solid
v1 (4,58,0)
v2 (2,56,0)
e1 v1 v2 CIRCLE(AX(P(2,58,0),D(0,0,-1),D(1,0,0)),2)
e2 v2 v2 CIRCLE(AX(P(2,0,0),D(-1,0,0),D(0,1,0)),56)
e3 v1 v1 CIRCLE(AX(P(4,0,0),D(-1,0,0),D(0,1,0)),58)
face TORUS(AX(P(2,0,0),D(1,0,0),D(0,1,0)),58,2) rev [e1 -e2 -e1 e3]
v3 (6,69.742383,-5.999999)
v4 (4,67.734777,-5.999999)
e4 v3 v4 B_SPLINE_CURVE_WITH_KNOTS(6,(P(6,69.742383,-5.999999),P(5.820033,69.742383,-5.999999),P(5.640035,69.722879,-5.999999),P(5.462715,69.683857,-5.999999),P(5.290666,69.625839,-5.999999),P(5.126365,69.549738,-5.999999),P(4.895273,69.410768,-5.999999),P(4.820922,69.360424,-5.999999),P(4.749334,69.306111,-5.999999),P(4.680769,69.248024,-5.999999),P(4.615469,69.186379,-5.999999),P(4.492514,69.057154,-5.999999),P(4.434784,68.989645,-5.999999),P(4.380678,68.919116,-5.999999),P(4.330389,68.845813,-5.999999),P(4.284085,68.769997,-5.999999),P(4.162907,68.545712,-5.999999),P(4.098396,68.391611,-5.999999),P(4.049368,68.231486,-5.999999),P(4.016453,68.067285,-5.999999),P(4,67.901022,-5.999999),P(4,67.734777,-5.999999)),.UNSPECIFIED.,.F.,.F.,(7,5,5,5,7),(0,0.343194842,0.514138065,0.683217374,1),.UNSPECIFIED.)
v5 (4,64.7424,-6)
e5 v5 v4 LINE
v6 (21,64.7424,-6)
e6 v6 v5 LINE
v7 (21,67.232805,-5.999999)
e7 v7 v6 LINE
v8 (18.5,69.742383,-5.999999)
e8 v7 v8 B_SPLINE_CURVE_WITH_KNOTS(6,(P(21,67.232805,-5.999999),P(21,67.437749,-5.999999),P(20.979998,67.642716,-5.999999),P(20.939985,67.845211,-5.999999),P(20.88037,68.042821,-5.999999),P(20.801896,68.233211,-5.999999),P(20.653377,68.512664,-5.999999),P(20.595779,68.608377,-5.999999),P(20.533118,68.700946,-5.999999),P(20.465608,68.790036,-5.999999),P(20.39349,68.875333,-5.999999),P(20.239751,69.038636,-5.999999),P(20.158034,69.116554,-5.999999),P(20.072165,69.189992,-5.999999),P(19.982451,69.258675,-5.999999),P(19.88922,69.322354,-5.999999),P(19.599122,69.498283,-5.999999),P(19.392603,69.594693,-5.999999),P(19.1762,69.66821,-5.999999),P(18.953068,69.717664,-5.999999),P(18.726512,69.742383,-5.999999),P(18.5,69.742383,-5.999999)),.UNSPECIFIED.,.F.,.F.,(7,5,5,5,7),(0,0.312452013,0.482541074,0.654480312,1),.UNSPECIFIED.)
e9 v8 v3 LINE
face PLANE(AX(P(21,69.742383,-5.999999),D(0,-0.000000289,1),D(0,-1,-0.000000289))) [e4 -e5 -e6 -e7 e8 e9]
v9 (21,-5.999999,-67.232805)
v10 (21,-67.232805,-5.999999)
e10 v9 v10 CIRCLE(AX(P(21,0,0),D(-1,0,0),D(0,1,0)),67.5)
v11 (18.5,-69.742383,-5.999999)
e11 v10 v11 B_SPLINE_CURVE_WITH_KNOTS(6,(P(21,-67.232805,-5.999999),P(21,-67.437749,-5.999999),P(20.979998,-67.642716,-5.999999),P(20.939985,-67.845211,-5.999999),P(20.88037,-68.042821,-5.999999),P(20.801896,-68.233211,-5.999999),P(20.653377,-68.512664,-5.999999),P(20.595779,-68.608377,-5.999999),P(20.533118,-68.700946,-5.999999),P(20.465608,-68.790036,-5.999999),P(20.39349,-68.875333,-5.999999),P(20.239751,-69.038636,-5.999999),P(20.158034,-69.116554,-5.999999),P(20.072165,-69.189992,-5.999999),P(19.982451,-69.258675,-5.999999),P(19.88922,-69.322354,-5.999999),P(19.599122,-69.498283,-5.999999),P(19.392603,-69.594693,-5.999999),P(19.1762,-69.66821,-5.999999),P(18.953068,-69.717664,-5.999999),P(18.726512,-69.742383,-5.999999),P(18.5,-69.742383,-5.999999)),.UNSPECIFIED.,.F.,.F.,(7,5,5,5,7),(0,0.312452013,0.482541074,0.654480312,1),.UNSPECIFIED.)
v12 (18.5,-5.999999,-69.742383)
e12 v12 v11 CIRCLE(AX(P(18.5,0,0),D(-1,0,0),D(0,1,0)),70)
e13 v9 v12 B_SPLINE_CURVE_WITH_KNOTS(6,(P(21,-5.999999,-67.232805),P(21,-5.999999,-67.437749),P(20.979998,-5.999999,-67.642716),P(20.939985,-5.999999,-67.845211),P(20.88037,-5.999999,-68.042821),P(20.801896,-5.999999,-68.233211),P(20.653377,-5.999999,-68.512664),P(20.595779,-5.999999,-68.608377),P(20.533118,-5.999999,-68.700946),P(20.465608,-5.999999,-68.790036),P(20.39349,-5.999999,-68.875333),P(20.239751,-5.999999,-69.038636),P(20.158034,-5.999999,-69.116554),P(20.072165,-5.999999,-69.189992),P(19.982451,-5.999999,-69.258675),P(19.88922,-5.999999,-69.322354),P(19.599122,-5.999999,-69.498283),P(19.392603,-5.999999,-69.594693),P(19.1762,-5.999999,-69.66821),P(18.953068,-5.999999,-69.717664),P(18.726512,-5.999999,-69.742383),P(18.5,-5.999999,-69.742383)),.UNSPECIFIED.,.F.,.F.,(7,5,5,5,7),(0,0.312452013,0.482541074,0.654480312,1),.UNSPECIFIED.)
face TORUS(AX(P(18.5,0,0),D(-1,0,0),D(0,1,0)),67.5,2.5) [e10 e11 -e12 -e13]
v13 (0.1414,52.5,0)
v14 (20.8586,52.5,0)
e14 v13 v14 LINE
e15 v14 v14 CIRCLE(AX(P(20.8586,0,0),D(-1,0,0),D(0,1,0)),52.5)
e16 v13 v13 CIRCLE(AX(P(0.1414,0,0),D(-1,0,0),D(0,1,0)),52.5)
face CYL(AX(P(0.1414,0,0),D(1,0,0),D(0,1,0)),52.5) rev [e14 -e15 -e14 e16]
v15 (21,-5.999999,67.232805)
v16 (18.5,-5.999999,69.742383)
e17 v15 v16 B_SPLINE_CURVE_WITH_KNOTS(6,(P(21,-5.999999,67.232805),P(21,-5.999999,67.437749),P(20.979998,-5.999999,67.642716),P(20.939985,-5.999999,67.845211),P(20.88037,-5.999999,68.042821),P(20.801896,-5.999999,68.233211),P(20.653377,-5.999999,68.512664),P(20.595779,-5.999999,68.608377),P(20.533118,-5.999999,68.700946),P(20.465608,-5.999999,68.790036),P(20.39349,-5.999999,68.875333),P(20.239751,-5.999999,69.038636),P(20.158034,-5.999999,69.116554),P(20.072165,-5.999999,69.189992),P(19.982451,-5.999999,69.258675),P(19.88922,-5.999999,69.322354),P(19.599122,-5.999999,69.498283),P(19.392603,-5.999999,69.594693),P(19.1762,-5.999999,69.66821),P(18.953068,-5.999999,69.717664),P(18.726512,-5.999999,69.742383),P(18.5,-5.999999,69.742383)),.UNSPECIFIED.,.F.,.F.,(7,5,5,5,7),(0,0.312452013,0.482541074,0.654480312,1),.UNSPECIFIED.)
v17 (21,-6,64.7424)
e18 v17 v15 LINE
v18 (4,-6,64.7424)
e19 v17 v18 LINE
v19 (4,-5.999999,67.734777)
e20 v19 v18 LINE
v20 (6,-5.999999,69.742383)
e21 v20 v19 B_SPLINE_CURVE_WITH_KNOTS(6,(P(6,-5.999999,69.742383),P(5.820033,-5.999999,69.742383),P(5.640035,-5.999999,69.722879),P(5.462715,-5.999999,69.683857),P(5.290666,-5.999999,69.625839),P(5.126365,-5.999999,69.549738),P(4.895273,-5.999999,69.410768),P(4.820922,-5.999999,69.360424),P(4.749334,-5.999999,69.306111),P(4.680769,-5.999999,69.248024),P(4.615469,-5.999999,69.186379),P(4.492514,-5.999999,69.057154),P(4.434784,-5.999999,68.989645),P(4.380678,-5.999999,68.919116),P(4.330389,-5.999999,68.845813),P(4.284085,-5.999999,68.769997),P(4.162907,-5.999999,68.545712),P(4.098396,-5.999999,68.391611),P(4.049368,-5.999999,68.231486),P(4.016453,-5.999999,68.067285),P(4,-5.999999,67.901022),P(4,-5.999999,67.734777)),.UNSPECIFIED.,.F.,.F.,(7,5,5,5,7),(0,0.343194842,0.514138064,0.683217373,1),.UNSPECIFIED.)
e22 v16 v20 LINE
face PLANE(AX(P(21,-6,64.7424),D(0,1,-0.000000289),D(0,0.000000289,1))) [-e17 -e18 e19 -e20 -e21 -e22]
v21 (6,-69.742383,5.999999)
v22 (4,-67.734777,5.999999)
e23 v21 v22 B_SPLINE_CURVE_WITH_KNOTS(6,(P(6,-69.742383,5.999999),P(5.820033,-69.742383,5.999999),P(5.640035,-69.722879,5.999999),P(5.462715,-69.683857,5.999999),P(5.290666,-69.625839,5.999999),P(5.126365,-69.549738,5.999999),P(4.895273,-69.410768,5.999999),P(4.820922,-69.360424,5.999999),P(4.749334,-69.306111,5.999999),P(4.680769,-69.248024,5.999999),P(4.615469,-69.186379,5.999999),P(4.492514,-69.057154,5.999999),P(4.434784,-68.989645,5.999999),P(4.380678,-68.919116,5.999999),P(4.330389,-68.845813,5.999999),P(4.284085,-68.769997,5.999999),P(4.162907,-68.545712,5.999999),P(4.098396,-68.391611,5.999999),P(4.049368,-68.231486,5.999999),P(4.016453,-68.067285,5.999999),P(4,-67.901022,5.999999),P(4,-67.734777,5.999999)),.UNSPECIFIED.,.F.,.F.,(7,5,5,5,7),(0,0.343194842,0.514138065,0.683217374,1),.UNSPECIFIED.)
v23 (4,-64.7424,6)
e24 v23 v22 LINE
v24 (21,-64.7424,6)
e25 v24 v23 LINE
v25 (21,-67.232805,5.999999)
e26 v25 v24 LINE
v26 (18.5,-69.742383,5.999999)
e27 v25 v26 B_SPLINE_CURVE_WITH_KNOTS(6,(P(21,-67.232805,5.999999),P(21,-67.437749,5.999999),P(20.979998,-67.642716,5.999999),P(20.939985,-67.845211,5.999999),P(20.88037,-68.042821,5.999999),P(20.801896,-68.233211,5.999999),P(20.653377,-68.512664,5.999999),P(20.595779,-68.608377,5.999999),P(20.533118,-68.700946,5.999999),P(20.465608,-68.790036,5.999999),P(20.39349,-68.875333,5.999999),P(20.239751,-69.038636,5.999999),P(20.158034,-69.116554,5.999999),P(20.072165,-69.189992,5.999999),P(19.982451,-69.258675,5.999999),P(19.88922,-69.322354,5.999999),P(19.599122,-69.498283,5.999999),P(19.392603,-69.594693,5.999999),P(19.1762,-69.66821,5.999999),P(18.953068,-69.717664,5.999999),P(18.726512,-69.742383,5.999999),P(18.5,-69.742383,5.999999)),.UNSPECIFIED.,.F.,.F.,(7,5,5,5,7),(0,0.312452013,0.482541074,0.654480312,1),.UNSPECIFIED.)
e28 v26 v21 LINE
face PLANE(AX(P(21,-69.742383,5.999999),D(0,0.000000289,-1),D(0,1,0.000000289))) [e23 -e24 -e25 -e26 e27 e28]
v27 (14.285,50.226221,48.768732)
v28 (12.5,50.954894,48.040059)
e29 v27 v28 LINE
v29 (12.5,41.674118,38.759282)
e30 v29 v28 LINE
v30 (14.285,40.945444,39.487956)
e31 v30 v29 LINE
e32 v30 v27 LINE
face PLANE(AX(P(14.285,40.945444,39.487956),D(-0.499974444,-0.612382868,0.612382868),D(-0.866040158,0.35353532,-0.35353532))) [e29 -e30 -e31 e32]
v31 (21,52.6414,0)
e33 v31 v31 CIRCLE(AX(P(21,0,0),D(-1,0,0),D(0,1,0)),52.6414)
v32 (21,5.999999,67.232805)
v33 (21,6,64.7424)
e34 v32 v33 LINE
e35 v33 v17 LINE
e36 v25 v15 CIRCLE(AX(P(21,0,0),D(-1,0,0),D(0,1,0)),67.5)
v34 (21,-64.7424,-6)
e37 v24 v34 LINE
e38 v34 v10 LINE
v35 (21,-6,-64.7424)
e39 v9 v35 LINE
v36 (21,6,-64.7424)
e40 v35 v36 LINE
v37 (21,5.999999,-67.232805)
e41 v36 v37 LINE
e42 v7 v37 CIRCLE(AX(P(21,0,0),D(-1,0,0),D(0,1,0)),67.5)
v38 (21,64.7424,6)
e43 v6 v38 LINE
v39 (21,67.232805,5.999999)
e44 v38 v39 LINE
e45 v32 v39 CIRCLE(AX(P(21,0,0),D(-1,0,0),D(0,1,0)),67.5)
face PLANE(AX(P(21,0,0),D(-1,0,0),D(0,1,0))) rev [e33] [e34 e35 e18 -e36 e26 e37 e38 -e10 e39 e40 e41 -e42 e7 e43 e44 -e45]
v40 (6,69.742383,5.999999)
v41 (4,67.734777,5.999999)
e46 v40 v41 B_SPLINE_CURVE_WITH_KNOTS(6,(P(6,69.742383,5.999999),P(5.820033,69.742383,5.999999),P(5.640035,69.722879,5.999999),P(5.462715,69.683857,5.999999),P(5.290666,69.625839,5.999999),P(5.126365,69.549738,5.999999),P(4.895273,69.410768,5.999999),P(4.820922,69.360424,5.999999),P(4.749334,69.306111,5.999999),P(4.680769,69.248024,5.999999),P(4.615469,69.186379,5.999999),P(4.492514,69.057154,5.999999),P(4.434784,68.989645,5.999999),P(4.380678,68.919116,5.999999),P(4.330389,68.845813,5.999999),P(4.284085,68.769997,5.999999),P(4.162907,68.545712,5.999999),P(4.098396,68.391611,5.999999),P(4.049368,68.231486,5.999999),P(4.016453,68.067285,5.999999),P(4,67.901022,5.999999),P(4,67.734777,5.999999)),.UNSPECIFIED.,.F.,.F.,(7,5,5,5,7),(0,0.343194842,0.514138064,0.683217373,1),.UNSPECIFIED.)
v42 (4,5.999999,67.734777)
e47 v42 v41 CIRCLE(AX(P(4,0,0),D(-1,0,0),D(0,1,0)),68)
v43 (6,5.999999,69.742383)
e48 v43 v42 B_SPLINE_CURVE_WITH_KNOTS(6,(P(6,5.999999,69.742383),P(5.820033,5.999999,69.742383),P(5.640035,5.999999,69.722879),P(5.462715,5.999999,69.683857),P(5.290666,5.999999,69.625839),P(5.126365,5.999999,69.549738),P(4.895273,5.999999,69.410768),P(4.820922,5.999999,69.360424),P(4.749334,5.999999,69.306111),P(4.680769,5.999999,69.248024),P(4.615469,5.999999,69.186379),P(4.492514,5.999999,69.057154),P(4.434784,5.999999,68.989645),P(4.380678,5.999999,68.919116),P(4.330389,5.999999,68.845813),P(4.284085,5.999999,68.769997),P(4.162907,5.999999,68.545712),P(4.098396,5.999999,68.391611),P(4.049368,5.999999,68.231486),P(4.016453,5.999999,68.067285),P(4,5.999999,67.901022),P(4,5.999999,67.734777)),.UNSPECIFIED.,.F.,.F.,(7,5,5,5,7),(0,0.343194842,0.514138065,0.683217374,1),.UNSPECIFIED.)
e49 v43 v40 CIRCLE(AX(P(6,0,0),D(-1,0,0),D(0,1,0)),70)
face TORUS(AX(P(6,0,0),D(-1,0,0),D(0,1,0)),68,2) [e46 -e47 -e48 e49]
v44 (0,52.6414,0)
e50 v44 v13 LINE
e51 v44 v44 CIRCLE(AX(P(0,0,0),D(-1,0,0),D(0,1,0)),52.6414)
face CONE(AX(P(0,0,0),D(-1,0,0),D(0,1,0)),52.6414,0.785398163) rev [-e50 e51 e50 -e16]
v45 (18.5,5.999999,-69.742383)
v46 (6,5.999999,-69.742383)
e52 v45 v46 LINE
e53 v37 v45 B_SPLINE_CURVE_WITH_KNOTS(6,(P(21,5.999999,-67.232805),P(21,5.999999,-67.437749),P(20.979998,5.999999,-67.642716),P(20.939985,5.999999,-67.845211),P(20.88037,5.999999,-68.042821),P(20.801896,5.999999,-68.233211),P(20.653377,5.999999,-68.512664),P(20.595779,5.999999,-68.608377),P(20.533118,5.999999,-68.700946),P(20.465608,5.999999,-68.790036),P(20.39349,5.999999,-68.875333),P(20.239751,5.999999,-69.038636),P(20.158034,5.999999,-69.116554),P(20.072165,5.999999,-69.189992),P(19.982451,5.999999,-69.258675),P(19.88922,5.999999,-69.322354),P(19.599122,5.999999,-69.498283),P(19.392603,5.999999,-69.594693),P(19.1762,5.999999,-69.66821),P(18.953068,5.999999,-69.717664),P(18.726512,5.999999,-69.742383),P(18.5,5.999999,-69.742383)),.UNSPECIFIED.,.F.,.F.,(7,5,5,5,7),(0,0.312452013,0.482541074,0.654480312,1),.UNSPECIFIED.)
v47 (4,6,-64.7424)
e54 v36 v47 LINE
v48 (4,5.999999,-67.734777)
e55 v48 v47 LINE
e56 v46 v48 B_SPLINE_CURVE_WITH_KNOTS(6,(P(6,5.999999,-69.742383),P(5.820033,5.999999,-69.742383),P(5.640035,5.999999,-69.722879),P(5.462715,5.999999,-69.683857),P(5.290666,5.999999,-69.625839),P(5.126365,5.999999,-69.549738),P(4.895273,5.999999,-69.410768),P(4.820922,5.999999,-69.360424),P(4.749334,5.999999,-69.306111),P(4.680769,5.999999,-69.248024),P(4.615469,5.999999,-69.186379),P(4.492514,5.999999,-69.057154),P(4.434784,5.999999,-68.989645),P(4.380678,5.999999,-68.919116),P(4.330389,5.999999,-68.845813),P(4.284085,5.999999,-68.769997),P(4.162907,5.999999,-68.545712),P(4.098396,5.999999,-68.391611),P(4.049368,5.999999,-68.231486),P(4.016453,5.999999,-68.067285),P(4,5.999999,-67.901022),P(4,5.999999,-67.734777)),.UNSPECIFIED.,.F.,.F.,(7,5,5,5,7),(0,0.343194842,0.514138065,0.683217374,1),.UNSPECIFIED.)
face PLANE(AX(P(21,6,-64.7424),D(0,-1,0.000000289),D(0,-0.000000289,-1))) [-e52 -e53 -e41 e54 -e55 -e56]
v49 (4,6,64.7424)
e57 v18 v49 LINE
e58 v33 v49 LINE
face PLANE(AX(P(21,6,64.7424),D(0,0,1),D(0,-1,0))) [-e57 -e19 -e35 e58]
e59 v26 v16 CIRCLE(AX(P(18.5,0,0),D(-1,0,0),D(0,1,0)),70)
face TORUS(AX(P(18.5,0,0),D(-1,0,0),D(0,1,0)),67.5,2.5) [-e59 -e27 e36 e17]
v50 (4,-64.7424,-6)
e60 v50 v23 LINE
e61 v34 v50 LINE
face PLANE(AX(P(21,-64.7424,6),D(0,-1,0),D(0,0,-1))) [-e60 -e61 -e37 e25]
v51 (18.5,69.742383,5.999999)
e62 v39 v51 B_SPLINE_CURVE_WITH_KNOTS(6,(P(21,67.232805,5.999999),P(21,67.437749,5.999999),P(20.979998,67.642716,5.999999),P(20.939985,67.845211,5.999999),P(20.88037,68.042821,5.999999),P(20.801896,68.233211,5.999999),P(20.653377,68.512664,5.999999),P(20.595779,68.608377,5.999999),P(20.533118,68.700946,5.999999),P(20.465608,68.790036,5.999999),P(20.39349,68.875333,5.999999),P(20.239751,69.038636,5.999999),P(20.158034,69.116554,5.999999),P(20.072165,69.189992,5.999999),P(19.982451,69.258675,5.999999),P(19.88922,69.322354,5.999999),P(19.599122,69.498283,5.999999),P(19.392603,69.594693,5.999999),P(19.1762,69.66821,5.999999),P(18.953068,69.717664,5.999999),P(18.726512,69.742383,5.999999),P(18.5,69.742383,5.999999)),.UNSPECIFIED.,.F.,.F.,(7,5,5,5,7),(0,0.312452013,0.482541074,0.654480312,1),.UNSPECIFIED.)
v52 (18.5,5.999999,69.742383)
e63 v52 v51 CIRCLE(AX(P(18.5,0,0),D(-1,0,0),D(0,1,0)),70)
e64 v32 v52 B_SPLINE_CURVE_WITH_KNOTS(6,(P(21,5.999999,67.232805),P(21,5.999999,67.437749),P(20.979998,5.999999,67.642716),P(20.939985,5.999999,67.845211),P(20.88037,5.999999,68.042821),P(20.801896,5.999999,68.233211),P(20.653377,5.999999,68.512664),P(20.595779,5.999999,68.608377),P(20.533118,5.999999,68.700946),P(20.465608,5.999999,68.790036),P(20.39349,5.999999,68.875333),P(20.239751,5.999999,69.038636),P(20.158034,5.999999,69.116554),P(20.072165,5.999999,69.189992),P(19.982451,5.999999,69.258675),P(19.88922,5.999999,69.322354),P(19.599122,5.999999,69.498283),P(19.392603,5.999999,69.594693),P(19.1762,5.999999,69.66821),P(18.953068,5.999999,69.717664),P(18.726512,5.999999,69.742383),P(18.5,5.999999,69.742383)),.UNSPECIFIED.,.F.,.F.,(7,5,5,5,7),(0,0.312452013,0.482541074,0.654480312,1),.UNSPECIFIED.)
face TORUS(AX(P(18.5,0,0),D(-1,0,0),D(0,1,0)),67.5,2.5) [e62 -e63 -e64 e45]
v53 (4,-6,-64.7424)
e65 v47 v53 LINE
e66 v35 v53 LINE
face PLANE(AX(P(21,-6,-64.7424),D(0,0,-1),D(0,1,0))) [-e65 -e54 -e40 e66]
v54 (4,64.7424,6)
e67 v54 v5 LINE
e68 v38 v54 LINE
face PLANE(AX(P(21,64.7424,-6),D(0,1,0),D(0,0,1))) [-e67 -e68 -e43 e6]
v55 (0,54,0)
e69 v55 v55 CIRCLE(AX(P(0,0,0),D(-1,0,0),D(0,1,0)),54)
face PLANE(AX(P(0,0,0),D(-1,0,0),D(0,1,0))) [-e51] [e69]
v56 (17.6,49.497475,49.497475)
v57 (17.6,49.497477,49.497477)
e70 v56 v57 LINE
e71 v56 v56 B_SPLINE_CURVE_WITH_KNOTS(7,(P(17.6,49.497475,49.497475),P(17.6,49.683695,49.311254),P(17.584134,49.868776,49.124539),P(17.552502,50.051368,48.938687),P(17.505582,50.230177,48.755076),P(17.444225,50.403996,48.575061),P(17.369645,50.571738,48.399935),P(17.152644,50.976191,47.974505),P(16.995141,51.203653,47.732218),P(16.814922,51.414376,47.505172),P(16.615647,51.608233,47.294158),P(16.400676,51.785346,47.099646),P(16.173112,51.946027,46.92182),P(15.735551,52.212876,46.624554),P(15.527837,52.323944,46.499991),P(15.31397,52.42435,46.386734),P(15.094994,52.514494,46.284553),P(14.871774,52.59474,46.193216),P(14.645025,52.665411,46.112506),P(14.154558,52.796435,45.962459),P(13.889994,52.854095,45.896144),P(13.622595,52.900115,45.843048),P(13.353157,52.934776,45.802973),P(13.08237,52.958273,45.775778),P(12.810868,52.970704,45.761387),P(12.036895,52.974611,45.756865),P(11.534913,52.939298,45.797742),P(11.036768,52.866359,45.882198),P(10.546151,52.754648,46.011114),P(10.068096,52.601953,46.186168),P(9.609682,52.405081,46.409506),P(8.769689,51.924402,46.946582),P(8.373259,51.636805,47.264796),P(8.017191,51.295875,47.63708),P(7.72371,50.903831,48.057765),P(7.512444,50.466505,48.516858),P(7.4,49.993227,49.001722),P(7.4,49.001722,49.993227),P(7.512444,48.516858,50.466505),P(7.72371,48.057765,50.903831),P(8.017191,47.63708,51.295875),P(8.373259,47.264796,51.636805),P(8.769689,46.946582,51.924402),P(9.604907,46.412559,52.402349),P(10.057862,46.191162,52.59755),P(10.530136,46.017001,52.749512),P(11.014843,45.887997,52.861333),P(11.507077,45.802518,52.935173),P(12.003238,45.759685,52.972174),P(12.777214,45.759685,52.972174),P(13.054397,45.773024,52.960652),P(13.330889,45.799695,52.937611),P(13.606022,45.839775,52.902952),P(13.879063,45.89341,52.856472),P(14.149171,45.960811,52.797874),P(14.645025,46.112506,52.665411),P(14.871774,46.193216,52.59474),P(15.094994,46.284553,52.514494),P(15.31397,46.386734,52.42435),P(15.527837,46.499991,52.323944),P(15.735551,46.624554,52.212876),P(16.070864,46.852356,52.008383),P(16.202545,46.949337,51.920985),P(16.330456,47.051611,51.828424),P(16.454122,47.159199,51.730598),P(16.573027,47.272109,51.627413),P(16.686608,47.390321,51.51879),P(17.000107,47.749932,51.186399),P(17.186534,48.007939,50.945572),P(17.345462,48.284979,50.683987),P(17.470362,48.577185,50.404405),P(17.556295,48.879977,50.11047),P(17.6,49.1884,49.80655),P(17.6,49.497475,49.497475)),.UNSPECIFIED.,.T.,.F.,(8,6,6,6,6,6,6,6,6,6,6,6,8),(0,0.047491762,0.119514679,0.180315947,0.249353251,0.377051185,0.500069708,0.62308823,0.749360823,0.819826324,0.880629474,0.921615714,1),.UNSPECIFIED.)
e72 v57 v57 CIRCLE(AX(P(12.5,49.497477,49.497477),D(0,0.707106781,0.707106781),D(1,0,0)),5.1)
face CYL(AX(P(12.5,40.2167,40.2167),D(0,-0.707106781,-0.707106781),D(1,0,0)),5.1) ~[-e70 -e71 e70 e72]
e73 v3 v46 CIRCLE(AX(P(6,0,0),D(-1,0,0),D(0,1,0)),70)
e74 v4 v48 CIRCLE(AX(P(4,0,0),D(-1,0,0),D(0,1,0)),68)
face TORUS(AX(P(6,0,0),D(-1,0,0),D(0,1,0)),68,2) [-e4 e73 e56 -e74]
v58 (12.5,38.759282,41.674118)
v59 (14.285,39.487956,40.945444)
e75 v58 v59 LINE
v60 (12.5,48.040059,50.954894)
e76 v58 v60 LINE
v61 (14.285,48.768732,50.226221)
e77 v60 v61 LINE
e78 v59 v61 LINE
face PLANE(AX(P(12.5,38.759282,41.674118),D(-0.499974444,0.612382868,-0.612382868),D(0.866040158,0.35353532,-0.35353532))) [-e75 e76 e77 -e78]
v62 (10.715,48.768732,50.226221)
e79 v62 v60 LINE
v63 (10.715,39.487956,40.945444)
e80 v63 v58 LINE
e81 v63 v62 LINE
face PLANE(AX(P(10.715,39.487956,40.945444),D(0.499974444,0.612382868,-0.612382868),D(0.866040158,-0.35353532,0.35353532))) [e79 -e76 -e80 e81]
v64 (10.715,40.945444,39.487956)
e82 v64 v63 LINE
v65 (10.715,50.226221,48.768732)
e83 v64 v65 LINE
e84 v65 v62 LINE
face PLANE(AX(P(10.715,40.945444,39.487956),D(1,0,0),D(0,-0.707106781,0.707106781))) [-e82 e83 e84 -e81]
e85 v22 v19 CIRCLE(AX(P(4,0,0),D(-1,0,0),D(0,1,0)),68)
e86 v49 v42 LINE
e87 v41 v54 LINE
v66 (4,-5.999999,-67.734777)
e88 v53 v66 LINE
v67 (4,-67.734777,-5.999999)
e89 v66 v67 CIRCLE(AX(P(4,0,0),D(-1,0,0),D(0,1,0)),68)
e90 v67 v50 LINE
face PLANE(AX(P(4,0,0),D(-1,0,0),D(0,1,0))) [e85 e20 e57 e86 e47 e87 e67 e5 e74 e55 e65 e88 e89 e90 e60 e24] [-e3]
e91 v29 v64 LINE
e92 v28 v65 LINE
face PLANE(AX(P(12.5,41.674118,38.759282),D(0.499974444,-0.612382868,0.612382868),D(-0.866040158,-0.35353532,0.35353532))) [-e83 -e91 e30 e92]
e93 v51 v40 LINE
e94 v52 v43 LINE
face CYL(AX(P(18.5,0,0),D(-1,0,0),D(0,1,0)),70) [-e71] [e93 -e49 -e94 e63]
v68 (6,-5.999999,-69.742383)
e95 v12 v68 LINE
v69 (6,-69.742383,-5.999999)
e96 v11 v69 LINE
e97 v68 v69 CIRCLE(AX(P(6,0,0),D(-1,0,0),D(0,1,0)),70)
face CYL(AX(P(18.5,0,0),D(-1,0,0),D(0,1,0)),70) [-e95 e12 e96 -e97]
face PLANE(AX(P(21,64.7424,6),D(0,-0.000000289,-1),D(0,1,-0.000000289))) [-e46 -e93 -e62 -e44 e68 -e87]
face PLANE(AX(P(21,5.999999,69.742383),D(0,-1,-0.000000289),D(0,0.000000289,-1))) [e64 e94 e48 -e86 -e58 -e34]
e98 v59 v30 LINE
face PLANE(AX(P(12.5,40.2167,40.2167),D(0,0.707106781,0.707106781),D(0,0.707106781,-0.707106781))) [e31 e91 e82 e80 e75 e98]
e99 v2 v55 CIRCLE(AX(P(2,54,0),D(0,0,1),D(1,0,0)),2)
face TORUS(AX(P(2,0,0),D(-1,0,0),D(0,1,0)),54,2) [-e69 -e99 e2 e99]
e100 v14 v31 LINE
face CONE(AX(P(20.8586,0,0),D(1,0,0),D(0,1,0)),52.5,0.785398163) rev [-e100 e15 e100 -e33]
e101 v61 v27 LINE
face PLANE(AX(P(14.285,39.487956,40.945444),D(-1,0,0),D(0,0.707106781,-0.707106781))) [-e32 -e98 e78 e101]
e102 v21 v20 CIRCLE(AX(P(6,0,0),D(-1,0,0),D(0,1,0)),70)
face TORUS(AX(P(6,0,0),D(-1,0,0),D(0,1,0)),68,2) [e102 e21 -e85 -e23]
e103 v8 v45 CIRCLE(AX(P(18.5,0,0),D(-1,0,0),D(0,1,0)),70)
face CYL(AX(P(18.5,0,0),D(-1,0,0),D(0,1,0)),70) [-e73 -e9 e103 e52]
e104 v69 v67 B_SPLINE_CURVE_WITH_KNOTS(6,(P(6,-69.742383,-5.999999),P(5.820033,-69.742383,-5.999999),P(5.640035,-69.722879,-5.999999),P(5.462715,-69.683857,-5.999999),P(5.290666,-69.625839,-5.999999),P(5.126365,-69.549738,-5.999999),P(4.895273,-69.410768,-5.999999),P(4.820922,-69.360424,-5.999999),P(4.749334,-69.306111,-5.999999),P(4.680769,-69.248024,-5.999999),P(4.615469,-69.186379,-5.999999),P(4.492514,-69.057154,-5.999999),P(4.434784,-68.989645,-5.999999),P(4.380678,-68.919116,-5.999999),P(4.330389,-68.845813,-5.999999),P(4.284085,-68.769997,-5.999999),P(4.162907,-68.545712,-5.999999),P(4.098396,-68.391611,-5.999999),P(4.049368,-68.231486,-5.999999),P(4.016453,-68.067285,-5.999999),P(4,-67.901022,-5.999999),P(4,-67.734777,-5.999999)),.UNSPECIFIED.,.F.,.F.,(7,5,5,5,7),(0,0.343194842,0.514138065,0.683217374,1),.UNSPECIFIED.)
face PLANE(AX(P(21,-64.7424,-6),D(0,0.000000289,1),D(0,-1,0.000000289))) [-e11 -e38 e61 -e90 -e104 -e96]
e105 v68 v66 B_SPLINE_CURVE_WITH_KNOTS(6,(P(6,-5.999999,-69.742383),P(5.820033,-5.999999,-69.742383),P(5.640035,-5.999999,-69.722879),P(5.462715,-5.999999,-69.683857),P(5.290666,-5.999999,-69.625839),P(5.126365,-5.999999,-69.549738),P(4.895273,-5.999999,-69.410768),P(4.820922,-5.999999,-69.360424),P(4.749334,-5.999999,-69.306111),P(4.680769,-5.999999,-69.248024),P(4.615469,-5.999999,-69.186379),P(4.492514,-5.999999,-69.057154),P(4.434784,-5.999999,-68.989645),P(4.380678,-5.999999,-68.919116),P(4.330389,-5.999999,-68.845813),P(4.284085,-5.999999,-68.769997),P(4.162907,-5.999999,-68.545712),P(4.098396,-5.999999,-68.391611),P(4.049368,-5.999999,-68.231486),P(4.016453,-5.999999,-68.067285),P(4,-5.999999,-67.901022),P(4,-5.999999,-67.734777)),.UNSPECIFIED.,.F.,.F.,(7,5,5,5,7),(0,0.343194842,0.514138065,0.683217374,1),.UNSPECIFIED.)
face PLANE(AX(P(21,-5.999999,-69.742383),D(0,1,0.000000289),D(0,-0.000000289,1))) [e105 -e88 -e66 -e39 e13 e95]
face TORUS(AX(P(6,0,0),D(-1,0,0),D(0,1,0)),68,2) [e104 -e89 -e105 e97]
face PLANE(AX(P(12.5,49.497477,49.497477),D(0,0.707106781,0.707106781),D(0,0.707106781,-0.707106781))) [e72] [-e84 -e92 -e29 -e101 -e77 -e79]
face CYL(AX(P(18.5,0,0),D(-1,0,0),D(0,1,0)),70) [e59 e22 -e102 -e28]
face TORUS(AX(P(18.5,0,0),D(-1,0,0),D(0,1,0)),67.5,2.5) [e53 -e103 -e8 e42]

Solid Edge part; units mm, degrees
sketch "Sketch1" plane through (0, 0, 0) normal (0, 0, 1) x (1, 0, 0)
  line L0 (0, 52.6414) -> (0.1414, 52.5)
  line L1 (0.1414, 52.5) -> (20.8586, 52.5)
  line L2 (20.8586, 52.5) -> (21, 52.6414)
  line L3 (21, 52.6414) -> (21, 67.5)
  arc A0 (21, 67.5) -> (18.5, 70) centre (18.5, 67.5) ccw
  line L4 (18.5, 70) -> (6, 70)
  arc A1 (6, 70) -> (4, 68) centre (6, 68) ccw
  line L5 (4, 68) -> (4, 58)
  arc A2 (4, 58) -> (2, 56) centre (2, 58) cw
  arc A3 (2, 56) -> (0, 54) centre (2, 54) ccw
  line L6 (0, 54) -> (0, 52.6414)
revolve "RevolvedProtrusion1" add sketch "Sketch1" angle 360 about axis through (50, 0, 0) along (-1, 0, 0)
sketch "Sketch2" plane through (21, 0, 0) normal (1, 0, 0) x (0, 1, 0)
  circle A0 centre (0, 0) radius 92.75
  line L0 (6, 69.7424) -> (6, 64.7424)
  line L1 (6, 64.7424) -> (-6, 64.7424)
  line L2 (-6, 64.7424) -> (-6, 69.7424)
  arc A1 (-6, 69.7424) -> (-69.7424, 6) centre (0, 0) ccw
  line L3 (-69.7424, 6) -> (-64.7424, 6)
  line L4 (-64.7424, 6) -> (-64.7424, -6)
  line L5 (-64.7424, -6) -> (-69.7424, -6)
  arc A2 (-69.7424, -6) -> (-6, -69.7424) centre (0, 0) ccw
  line L6 (-6, -69.7424) -> (-6, -64.7424)
  line L7 (-6, -64.7424) -> (6, -64.7424)
  line L8 (6, -64.7424) -> (6, -69.7424)
  arc A3 (6, -69.7424) -> (69.7424, -6) centre (0, 0) ccw
  line L9 (69.7424, -6) -> (64.7424, -6)
  line L10 (64.7424, -6) -> (64.7424, 6)
  line L11 (64.7424, 6) -> (69.7424, 6)
  arc A4 (69.7424, 6) -> (6, 69.7424) centre (0, 0) ccw
extrude "ExtrudedCutout_1" cut sketch "Sketch2" against normal blind 21
sketch "Sketch3" plane through (0, 40.2167, 40.2167) normal (0, 0.7071, 0.7071) x (1, 0, 0)
  circle A0 centre (12.5, 0) radius 5.1
extrude "ExtrudedCutout_2" cut sketch "Sketch3" along normal blind 22.75
sketch "Sketch4" plane through (0, 40.2167, 40.2167) normal (0, 0.7071, 0.7071) x (1, 0, 0)
  circle A0 centre (12.5, 0) radius 5.1
  line L0 (10.715, 1.0306) -> (10.715, -1.0306)
  line L1 (10.715, -1.0306) -> (12.5, -2.0611)
  line L2 (12.5, -2.0611) -> (14.285, -1.0306)
  line L3 (14.285, -1.0306) -> (14.285, 1.0306)
  line L4 (14.285, 1.0306) -> (12.5, 2.0611)
  line L5 (12.5, 2.0611) -> (10.715, 1.0306)
extrude "ExtrudedProtrusion_1" add sketch "Sketch4" along normal blind 13.125
